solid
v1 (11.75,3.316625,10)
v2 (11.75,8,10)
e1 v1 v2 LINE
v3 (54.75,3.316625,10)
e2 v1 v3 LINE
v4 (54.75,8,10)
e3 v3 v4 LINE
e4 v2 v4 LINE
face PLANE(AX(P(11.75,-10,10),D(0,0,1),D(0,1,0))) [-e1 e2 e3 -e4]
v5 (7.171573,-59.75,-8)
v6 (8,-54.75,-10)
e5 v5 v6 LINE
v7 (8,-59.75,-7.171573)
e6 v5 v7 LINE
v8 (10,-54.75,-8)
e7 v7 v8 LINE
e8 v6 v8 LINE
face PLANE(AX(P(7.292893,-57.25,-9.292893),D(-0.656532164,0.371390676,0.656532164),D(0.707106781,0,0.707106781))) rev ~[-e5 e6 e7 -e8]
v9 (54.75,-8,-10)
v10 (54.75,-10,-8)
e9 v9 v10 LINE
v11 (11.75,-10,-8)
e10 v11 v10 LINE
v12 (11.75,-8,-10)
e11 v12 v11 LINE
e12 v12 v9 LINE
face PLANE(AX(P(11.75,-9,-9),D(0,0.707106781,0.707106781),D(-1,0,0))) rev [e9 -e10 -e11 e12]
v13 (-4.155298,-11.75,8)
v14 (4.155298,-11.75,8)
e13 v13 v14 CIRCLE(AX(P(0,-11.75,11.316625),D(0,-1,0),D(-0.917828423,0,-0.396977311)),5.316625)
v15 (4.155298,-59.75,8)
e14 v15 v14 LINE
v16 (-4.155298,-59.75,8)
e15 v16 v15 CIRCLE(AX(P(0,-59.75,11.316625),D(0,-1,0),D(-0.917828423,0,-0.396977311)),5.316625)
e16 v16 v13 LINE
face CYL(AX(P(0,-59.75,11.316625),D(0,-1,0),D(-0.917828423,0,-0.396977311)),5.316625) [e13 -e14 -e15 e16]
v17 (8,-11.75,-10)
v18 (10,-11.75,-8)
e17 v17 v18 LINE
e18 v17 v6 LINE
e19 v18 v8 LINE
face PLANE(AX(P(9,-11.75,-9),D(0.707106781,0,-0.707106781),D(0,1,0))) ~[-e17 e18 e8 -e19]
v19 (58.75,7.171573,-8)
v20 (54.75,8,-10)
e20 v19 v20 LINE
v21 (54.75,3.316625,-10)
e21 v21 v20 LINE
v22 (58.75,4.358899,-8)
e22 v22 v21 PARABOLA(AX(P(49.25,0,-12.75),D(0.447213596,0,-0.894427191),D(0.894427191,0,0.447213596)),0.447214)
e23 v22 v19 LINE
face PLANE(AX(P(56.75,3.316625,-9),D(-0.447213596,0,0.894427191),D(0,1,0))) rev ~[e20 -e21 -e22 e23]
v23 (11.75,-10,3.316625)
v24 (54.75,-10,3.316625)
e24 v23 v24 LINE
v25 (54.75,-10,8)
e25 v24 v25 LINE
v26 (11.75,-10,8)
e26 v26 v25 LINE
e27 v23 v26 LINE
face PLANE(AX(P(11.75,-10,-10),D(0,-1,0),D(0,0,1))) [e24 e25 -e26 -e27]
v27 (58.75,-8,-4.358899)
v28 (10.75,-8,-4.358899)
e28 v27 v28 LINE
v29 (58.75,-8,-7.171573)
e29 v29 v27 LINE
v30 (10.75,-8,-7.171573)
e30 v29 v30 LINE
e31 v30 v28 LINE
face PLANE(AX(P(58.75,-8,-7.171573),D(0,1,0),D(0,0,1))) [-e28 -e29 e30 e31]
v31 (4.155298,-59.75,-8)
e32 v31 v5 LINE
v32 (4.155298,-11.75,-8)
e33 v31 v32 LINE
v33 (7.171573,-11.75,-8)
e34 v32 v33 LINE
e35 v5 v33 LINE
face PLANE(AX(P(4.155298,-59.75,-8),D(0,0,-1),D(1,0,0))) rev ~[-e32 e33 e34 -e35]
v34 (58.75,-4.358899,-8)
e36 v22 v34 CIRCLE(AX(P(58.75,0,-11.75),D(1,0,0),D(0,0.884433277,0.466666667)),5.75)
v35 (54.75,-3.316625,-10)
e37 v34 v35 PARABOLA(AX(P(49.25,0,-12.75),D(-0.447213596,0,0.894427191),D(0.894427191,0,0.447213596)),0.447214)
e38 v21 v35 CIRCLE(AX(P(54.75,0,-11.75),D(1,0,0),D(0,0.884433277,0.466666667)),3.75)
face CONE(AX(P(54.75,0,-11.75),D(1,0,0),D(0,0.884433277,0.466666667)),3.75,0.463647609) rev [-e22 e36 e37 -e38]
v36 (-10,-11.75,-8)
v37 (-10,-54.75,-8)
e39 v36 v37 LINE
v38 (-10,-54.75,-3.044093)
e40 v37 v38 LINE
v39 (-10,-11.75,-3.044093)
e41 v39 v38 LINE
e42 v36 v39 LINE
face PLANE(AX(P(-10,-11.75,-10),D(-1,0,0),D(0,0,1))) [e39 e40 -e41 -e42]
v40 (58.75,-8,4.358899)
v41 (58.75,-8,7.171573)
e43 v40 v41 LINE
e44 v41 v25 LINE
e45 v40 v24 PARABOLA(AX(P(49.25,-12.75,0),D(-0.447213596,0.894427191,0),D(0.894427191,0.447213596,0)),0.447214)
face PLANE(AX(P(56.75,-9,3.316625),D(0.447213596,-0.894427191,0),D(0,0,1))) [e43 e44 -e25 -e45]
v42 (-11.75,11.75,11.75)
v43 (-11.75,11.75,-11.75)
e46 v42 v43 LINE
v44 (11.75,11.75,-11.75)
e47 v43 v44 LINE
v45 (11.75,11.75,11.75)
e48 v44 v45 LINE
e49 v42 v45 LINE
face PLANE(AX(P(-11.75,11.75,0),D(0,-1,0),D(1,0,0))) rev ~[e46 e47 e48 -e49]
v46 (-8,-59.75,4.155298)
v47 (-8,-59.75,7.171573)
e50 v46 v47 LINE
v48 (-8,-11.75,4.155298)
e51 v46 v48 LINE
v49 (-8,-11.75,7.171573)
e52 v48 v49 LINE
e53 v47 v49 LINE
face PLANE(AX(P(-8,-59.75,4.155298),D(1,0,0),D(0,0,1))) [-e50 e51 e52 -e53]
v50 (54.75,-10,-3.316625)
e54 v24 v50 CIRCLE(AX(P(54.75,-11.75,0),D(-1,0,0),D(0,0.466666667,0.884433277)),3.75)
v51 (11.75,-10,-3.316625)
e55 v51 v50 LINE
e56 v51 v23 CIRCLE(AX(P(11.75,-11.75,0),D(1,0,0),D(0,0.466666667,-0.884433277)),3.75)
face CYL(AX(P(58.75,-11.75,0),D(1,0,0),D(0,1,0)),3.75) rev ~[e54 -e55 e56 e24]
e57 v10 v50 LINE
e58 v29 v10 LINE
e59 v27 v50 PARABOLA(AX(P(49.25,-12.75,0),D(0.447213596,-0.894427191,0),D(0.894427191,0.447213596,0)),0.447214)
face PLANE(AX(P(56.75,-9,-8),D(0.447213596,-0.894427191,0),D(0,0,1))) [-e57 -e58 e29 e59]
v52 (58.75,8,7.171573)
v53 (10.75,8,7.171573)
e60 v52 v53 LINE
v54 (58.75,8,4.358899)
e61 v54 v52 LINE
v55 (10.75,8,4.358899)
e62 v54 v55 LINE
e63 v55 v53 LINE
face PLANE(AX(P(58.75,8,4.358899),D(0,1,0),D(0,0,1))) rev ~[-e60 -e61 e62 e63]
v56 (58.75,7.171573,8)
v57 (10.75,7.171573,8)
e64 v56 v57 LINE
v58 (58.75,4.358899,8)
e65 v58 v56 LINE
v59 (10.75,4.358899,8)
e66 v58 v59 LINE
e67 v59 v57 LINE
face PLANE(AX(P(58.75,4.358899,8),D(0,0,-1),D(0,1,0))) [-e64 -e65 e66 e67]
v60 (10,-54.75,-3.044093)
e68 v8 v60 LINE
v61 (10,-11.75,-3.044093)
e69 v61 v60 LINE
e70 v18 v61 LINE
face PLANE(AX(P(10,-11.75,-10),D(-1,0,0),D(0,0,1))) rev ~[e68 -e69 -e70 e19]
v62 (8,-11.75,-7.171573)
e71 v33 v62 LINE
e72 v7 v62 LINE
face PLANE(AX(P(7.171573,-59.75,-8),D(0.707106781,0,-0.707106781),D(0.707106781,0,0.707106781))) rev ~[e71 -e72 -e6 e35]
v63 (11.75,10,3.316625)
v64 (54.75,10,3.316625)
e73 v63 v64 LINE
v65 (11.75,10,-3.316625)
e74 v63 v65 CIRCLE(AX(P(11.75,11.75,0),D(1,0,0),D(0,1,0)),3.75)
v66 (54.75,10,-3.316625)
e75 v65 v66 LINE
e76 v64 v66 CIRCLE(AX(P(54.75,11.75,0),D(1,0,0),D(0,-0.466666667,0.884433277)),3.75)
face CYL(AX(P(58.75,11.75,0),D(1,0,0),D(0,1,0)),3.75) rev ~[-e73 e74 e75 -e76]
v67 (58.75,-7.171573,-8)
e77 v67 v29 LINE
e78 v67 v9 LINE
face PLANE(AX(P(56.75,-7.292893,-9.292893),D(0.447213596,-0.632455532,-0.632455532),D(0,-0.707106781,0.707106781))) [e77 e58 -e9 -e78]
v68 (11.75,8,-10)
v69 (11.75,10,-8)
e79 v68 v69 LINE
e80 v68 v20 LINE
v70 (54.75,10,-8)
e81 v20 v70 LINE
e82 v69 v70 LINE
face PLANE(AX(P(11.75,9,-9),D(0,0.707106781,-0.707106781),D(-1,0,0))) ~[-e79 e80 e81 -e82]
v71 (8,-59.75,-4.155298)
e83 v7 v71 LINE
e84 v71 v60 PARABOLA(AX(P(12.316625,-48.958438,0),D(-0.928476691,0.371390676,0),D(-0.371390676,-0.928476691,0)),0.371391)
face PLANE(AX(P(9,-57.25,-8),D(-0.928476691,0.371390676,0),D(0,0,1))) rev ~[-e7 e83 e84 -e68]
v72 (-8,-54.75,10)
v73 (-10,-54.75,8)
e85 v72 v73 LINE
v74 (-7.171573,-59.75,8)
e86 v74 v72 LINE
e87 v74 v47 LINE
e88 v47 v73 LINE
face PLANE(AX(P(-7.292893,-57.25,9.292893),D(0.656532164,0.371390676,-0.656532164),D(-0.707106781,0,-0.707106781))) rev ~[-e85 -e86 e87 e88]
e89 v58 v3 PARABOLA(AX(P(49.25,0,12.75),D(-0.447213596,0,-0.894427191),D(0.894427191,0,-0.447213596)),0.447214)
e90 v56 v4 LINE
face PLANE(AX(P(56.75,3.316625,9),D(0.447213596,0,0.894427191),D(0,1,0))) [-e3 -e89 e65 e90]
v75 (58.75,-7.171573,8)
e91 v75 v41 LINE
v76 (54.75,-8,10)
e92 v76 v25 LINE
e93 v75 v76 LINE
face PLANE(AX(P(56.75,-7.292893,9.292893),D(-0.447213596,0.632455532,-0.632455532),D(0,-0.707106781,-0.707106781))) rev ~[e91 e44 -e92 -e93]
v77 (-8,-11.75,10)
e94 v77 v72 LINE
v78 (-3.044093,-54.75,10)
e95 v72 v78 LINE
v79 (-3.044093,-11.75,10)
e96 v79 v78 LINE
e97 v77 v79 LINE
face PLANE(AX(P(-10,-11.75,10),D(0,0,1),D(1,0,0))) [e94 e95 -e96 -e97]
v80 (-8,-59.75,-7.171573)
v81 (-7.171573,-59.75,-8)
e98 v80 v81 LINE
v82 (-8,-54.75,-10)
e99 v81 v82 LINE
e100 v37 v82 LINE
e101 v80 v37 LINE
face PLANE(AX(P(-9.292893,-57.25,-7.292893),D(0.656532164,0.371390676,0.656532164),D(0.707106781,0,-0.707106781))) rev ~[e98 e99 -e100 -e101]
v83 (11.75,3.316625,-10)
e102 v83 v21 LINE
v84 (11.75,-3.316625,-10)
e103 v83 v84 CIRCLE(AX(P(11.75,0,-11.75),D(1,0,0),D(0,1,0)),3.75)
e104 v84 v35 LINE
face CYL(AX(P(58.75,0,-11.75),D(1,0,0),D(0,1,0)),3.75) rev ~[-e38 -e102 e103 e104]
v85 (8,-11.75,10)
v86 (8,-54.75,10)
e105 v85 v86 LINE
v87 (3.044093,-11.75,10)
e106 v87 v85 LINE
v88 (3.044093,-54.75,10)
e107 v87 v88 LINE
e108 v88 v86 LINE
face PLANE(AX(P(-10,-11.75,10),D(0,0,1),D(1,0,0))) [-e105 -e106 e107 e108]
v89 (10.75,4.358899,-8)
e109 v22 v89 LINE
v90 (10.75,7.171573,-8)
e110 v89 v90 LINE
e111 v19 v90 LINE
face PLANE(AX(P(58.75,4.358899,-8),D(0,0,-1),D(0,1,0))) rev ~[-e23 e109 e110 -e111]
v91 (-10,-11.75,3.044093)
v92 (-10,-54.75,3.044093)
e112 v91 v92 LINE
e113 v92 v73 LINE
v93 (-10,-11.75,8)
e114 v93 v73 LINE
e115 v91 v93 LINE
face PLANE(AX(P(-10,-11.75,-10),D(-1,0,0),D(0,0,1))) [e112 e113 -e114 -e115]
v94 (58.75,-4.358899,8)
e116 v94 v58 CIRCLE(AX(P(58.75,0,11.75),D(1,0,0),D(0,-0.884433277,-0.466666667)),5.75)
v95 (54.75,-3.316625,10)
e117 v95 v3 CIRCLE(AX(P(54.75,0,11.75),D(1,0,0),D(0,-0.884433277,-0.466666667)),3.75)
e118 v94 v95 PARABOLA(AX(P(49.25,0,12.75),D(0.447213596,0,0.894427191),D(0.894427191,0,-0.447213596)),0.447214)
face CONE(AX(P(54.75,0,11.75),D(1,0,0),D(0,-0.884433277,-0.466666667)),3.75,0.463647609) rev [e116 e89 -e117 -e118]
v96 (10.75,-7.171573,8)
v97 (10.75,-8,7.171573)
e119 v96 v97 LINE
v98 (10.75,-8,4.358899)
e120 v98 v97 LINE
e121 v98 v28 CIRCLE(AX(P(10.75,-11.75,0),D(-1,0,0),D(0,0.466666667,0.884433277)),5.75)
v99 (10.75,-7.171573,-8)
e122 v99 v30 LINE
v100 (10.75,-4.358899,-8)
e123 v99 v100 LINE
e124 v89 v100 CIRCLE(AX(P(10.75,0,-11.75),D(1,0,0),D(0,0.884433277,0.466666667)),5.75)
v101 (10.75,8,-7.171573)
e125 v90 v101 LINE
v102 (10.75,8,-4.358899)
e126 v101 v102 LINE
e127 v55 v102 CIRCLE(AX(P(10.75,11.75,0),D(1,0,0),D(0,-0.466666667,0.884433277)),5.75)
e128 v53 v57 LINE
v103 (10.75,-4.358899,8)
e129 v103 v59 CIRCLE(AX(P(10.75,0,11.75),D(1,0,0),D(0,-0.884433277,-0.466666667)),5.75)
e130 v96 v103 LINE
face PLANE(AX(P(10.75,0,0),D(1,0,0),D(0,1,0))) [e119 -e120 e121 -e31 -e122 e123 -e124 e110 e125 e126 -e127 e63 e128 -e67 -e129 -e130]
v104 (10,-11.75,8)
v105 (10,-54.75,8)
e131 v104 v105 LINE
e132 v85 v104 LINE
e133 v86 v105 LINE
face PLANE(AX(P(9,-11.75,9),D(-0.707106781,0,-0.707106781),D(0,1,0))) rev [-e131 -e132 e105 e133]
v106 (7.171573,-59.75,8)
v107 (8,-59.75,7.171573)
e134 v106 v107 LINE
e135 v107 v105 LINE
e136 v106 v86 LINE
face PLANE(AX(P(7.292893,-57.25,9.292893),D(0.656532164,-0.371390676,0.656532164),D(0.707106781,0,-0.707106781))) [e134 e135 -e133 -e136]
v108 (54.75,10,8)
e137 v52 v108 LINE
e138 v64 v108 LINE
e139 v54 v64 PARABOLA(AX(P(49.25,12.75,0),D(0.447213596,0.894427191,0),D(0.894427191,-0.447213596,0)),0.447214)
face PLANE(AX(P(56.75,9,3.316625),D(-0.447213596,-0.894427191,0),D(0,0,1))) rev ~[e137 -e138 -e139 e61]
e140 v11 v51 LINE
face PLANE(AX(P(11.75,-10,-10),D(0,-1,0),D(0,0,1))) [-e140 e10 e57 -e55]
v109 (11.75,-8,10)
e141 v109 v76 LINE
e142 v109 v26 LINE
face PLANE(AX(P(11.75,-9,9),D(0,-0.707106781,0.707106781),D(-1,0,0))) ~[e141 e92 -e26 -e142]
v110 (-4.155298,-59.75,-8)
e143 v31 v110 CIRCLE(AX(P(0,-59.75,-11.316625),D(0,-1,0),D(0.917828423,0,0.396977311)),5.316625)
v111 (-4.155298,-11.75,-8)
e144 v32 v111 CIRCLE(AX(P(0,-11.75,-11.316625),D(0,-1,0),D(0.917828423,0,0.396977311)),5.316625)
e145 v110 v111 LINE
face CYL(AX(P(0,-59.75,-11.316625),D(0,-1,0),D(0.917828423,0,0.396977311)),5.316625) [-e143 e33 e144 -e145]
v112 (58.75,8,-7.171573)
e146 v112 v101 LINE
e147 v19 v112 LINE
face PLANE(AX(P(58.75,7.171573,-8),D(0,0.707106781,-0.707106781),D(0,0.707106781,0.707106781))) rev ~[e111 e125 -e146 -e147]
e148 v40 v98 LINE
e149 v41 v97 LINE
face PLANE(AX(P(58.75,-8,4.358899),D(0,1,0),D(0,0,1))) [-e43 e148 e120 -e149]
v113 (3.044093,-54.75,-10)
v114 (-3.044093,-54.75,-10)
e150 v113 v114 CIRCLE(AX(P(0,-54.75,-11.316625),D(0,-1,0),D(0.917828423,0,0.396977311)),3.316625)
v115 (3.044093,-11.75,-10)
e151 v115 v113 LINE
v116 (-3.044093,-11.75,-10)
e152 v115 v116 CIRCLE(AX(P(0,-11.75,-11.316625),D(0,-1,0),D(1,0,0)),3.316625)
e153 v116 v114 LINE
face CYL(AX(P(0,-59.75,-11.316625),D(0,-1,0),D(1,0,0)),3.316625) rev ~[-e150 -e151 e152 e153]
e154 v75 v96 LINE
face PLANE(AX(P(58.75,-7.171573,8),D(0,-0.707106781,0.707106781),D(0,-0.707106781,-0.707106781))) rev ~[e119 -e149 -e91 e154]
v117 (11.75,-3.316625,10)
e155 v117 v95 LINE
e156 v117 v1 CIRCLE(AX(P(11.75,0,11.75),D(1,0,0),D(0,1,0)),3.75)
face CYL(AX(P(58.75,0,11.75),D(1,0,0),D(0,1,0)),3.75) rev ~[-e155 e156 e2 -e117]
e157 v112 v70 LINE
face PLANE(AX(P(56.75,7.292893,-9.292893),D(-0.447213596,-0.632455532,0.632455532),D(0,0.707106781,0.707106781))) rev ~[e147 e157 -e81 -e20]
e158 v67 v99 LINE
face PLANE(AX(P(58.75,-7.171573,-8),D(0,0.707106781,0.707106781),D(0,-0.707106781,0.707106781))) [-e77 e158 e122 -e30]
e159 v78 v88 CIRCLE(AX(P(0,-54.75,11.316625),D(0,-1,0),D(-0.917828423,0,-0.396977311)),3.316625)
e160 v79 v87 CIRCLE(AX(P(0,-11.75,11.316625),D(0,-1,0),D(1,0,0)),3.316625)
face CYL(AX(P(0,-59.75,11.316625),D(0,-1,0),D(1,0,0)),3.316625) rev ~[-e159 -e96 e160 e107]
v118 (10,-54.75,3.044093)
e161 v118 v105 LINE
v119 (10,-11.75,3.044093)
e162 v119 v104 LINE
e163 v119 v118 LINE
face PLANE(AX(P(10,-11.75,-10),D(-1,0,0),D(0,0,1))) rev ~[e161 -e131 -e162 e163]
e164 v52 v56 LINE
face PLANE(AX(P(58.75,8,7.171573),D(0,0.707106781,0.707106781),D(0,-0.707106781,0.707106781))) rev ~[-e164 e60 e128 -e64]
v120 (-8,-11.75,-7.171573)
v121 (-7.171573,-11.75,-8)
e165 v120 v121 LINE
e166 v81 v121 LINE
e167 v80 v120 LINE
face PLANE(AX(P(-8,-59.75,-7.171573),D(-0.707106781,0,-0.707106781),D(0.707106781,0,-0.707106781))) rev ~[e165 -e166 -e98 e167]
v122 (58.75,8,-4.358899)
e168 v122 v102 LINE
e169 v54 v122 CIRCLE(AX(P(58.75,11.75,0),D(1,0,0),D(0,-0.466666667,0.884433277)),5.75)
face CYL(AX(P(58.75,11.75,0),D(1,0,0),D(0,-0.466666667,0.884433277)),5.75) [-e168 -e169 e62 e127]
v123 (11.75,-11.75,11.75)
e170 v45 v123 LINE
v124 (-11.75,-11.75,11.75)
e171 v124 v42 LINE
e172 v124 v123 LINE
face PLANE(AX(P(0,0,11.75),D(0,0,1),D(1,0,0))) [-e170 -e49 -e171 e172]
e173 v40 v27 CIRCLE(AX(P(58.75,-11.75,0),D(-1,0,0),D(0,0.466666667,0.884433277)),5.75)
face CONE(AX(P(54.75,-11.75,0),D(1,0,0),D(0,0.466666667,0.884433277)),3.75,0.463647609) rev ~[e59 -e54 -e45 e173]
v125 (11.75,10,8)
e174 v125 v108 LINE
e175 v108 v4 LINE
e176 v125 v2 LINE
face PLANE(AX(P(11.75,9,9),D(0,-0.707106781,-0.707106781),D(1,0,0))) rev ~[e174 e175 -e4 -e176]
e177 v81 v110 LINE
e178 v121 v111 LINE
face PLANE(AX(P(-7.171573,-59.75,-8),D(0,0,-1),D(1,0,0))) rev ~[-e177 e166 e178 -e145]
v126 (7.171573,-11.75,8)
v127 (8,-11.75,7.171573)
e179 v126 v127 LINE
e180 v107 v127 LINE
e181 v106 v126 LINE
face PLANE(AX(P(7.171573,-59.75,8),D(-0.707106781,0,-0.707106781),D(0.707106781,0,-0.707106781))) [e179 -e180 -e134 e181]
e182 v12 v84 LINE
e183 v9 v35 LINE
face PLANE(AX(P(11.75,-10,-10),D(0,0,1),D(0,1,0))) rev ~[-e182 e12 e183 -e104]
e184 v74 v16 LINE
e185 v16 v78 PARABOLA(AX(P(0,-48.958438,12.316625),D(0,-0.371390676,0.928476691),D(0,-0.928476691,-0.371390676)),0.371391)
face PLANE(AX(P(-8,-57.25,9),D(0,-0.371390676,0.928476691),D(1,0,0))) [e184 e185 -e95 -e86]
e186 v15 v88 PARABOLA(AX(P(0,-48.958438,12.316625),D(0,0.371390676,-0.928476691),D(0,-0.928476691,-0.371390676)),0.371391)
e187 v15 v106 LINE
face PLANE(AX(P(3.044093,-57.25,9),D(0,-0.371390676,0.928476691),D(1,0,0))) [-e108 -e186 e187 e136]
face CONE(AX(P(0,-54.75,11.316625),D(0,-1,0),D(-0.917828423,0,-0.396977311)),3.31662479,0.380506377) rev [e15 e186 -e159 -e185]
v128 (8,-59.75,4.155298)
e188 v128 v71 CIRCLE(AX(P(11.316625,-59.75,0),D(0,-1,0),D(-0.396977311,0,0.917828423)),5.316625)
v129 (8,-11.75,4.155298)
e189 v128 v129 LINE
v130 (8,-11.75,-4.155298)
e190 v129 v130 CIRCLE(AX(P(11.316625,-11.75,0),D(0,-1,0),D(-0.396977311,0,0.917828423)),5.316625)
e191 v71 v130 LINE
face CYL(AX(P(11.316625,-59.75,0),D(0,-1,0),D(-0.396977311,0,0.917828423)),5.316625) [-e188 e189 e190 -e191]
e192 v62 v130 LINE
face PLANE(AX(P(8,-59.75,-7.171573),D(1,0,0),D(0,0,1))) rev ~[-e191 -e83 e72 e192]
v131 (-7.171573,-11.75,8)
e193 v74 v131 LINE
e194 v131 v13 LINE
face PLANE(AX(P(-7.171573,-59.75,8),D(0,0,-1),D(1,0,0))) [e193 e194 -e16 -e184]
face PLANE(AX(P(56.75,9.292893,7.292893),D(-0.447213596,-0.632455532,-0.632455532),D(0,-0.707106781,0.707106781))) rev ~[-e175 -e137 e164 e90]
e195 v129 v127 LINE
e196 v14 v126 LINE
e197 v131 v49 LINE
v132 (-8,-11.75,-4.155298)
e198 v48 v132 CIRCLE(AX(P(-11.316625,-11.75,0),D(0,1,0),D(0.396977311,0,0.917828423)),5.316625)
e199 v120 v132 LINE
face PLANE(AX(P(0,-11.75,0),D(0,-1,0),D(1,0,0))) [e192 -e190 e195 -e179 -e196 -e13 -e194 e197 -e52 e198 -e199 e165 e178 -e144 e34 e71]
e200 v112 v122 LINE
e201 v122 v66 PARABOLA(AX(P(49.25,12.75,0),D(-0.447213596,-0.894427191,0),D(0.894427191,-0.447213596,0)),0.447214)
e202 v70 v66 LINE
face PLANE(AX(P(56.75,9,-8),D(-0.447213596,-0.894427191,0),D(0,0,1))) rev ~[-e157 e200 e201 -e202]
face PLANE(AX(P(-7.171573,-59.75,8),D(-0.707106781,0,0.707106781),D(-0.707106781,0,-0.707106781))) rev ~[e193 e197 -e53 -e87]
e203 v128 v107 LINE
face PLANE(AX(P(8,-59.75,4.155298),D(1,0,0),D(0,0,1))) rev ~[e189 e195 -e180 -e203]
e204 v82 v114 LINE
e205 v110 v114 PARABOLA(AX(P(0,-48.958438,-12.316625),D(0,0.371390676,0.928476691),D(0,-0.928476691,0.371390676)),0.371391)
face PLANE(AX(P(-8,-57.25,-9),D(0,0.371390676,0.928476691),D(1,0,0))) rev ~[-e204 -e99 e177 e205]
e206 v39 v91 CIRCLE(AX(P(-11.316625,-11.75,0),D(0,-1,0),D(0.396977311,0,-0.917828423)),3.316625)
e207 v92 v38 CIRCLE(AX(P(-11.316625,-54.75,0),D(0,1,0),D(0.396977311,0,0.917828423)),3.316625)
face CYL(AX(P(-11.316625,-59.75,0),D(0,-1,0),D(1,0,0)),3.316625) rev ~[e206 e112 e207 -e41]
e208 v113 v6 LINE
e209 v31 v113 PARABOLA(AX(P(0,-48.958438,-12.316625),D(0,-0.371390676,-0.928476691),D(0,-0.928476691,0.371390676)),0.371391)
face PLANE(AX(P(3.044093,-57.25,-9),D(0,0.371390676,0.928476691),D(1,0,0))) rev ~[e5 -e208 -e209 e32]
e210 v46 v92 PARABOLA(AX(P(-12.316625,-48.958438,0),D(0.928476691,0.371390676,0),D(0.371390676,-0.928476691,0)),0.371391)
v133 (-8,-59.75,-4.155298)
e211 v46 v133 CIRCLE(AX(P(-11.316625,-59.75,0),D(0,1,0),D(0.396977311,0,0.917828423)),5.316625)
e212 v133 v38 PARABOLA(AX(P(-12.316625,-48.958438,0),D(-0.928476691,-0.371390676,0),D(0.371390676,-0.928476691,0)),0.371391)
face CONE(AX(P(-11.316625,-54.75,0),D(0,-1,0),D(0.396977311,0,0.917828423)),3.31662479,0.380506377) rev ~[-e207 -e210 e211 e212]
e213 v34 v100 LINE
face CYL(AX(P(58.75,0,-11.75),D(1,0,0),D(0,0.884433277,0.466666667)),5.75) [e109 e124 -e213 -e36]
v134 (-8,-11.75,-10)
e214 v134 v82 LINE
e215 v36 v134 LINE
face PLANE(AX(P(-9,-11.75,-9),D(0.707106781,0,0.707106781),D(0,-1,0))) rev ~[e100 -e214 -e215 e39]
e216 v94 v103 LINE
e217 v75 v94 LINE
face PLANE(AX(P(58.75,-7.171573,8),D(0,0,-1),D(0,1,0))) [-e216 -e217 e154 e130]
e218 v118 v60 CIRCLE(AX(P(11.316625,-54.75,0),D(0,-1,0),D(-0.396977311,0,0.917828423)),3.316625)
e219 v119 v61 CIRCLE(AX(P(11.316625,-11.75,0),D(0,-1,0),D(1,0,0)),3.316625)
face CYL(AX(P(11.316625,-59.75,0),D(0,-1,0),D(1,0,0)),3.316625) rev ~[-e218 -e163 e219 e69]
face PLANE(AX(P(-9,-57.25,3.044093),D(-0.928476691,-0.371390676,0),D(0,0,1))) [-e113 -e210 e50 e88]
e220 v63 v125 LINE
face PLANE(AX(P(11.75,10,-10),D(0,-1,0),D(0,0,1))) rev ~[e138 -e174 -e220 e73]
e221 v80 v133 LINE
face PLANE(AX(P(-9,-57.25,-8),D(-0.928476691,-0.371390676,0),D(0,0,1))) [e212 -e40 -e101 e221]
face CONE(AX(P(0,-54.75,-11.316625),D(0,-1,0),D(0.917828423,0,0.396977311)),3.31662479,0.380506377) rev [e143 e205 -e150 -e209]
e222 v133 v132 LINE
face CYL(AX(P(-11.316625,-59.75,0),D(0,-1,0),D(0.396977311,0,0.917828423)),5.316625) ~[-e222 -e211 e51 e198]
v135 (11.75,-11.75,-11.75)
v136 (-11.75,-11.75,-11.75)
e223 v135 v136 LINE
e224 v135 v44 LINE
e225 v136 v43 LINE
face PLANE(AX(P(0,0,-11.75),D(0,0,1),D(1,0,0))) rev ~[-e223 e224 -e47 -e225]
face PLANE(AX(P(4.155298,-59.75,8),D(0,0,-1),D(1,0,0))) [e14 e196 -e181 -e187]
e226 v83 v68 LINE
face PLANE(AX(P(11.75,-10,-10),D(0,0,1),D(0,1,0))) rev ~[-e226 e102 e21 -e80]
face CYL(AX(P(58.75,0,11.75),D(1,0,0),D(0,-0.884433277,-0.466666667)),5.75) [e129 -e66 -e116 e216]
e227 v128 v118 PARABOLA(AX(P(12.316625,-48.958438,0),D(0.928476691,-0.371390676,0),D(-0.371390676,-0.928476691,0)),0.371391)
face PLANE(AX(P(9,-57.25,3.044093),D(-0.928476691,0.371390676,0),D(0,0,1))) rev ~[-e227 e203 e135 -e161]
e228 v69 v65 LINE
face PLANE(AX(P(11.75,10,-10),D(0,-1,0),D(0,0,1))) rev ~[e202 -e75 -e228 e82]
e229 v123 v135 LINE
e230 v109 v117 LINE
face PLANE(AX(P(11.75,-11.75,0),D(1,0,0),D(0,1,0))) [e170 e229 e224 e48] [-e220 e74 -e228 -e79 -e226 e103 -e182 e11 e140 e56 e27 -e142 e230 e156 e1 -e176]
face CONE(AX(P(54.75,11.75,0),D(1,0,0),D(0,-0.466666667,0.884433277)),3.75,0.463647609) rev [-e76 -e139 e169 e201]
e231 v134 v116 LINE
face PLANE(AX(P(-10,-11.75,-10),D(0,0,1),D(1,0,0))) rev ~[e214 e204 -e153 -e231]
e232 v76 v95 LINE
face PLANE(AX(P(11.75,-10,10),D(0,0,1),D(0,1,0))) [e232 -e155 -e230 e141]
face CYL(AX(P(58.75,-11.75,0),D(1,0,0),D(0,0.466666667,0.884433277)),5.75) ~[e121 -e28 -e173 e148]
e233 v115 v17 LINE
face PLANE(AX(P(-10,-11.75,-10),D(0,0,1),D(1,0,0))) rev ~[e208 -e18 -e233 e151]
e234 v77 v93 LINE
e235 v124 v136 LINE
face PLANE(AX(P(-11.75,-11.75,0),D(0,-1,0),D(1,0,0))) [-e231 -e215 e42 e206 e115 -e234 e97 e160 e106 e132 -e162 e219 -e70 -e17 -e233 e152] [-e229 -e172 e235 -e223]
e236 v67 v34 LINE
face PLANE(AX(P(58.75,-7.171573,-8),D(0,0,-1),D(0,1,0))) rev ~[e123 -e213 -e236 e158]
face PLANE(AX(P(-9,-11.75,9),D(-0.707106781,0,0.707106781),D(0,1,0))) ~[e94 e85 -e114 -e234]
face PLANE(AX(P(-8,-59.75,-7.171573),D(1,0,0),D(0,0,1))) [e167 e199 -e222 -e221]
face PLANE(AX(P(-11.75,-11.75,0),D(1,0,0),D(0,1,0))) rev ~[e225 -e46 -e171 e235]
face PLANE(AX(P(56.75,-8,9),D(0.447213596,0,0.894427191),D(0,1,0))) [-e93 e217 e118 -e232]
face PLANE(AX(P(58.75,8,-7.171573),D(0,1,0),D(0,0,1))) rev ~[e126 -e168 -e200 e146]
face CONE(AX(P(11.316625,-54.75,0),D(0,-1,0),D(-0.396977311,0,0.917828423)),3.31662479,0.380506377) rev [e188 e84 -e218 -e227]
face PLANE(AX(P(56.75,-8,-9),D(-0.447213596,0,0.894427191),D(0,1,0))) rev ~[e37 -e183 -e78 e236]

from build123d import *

# Parameters (mm, degrees)
F0_W      = 23.5
F0_H      = 23.5
F1_DEPTH  = 11.75
F2_W      = 20
F2_H      = 20
F3_DEPTH  = 47
F4_SIZE   = 2
F5_R      = 3.75
F6_DEPTH  = 47
F7_SIZE2  = 4
F7_SIZE   = 2
F8_W      = 20
F8_H      = 20
F9_DEPTH  = 48
F10_R     = 3.3166247904
F11_DEPTH = 48
F12_SIZE  = 2
F13_SIZE2 = 5
F13_SIZE  = 2
F14_DEPTH = 48
F15_DEPTH = 48


with BuildPart() as f1:
    # F0 (on Top) → F1 (new body, symmetric)
    with BuildSketch(Plane.XY):
        Rectangle(F0_W, F0_H)
    extrude(amount=F1_DEPTH, both=True)

    # F2 (on face) → F3 (join)
    with BuildSketch(Plane.YZ.offset(11.75)):
        Rectangle(F2_W, F2_H)
    extrude(amount=F3_DEPTH)

    # F4
    f4_edges = [f1.edges().sort_by_distance(p)[0] for p in [
        (35.25, -10, 10),
        (35.25, -10, -10),
        (35.25, 10, 10),
        (35.25, 10, -10),
    ]]
    chamfer(f4_edges, length=F4_SIZE)

    # F5 (on face) → F6 (cut, through all)
    with BuildSketch(Plane.YZ.offset(58.75)):
        with Locations((0, 11.75)):
            Circle(F5_R)
        with Locations((11.75, 0)):
            Circle(F5_R)
        with Locations((0, -11.75)):
            Circle(F5_R)
        with Locations((-11.75, 0)):
            Circle(F5_R)
    extrude(amount=-F6_DEPTH, mode=Mode.SUBTRACT)

    # F7
    f7_edges = [f1.edges().sort_by_distance(p)[0] for p in [
        (58.75, -9, -9),
        (58.75, -5.658312, -10),
        (58.75, 0, -8),
        (58.75, 5.658312, -10),
        (58.75, 9, -9),
        (58.75, 10, -5.658312),
        (58.75, 8, 0),
        (58.75, 10, 5.658312),
        (58.75, 9, 9),
        (58.75, 5.658312, 10),
        (58.75, 0, 8),
        (58.75, -5.658312, 10),
        (58.75, -9, 9),
        (58.75, -10, 5.658312),
        (58.75, -8, 0),
        (58.75, -10, -5.658312),
    ]]
    f7_side = f1.faces().sort_by_distance((58.75, 0, 0))[0]
    chamfer(f7_edges, length=F7_SIZE, length2=F7_SIZE2, reference=f7_side)

    # F8 (on face) → F9 (join)
    with BuildSketch(Plane.XZ.offset(11.75)):
        Rectangle(F8_W, F8_H)
    extrude(amount=F9_DEPTH)

    # F10 (on face) → F11 (cut)
    with BuildSketch(Plane.XZ.offset(59.75)):
        with Locations((11.3166247904, 0)):
            Circle(F10_R)
        with Locations((0, 11.3166247904)):
            Circle(F10_R)
        with Locations((-11.3166247904, 0)):
            Circle(F10_R)
        with Locations((0, -11.3166247904)):
            Circle(F10_R)
    extrude(amount=-F11_DEPTH, mode=Mode.SUBTRACT)

    # F12
    f12_edges = [f1.edges().sort_by_distance(p)[0] for p in [
        (10, -35.75, 10),
        (10, -35.75, -10),
        (-10, -35.75, 10),
        (-10, -35.75, -10),
    ]]
    chamfer(f12_edges, length=F12_SIZE)

    # F13
    f13_edges = [f1.edges().sort_by_distance(p)[0] for p in [
        (-10, -59.75, -5.522046),
        (-9, -59.75, -9),
        (-8, -59.75, 0),
        (-5.522046, -59.75, -10),
        (-10, -59.75, 5.522046),
        (0, -59.75, -8),
        (-9, -59.75, 9),
        (5.522046, -59.75, -10),
        (-5.522046, -59.75, 10),
        (9, -59.75, -9),
        (0, -59.75, 8),
        (10, -59.75, -5.522046),
        (5.522046, -59.75, 10),
        (8, -59.75, 0),
        (9, -59.75, 9),
        (10, -59.75, 5.522046),
    ]]
    f13_side = f1.faces().sort_by_distance((0, -59.75, 0))[0]
    chamfer(f13_edges, length=F13_SIZE, length2=F13_SIZE2, reference=f13_side)

    # F14 (cut): a face of the model
    f14_faces = [f1.faces().sort_by_distance(p)[0] for p in [
        (58.75, 0, 0),
    ]]
    extrude(f14_faces, amount=-F14_DEPTH, mode=Mode.SUBTRACT)

    # F15 (cut): a face of the model
    f15_faces = [f1.faces().sort_by_distance(p)[0] for p in [
        (0, -59.75, 0),
    ]]
    extrude(f15_faces, amount=-F15_DEPTH, mode=Mode.SUBTRACT)


solid = f1.part
